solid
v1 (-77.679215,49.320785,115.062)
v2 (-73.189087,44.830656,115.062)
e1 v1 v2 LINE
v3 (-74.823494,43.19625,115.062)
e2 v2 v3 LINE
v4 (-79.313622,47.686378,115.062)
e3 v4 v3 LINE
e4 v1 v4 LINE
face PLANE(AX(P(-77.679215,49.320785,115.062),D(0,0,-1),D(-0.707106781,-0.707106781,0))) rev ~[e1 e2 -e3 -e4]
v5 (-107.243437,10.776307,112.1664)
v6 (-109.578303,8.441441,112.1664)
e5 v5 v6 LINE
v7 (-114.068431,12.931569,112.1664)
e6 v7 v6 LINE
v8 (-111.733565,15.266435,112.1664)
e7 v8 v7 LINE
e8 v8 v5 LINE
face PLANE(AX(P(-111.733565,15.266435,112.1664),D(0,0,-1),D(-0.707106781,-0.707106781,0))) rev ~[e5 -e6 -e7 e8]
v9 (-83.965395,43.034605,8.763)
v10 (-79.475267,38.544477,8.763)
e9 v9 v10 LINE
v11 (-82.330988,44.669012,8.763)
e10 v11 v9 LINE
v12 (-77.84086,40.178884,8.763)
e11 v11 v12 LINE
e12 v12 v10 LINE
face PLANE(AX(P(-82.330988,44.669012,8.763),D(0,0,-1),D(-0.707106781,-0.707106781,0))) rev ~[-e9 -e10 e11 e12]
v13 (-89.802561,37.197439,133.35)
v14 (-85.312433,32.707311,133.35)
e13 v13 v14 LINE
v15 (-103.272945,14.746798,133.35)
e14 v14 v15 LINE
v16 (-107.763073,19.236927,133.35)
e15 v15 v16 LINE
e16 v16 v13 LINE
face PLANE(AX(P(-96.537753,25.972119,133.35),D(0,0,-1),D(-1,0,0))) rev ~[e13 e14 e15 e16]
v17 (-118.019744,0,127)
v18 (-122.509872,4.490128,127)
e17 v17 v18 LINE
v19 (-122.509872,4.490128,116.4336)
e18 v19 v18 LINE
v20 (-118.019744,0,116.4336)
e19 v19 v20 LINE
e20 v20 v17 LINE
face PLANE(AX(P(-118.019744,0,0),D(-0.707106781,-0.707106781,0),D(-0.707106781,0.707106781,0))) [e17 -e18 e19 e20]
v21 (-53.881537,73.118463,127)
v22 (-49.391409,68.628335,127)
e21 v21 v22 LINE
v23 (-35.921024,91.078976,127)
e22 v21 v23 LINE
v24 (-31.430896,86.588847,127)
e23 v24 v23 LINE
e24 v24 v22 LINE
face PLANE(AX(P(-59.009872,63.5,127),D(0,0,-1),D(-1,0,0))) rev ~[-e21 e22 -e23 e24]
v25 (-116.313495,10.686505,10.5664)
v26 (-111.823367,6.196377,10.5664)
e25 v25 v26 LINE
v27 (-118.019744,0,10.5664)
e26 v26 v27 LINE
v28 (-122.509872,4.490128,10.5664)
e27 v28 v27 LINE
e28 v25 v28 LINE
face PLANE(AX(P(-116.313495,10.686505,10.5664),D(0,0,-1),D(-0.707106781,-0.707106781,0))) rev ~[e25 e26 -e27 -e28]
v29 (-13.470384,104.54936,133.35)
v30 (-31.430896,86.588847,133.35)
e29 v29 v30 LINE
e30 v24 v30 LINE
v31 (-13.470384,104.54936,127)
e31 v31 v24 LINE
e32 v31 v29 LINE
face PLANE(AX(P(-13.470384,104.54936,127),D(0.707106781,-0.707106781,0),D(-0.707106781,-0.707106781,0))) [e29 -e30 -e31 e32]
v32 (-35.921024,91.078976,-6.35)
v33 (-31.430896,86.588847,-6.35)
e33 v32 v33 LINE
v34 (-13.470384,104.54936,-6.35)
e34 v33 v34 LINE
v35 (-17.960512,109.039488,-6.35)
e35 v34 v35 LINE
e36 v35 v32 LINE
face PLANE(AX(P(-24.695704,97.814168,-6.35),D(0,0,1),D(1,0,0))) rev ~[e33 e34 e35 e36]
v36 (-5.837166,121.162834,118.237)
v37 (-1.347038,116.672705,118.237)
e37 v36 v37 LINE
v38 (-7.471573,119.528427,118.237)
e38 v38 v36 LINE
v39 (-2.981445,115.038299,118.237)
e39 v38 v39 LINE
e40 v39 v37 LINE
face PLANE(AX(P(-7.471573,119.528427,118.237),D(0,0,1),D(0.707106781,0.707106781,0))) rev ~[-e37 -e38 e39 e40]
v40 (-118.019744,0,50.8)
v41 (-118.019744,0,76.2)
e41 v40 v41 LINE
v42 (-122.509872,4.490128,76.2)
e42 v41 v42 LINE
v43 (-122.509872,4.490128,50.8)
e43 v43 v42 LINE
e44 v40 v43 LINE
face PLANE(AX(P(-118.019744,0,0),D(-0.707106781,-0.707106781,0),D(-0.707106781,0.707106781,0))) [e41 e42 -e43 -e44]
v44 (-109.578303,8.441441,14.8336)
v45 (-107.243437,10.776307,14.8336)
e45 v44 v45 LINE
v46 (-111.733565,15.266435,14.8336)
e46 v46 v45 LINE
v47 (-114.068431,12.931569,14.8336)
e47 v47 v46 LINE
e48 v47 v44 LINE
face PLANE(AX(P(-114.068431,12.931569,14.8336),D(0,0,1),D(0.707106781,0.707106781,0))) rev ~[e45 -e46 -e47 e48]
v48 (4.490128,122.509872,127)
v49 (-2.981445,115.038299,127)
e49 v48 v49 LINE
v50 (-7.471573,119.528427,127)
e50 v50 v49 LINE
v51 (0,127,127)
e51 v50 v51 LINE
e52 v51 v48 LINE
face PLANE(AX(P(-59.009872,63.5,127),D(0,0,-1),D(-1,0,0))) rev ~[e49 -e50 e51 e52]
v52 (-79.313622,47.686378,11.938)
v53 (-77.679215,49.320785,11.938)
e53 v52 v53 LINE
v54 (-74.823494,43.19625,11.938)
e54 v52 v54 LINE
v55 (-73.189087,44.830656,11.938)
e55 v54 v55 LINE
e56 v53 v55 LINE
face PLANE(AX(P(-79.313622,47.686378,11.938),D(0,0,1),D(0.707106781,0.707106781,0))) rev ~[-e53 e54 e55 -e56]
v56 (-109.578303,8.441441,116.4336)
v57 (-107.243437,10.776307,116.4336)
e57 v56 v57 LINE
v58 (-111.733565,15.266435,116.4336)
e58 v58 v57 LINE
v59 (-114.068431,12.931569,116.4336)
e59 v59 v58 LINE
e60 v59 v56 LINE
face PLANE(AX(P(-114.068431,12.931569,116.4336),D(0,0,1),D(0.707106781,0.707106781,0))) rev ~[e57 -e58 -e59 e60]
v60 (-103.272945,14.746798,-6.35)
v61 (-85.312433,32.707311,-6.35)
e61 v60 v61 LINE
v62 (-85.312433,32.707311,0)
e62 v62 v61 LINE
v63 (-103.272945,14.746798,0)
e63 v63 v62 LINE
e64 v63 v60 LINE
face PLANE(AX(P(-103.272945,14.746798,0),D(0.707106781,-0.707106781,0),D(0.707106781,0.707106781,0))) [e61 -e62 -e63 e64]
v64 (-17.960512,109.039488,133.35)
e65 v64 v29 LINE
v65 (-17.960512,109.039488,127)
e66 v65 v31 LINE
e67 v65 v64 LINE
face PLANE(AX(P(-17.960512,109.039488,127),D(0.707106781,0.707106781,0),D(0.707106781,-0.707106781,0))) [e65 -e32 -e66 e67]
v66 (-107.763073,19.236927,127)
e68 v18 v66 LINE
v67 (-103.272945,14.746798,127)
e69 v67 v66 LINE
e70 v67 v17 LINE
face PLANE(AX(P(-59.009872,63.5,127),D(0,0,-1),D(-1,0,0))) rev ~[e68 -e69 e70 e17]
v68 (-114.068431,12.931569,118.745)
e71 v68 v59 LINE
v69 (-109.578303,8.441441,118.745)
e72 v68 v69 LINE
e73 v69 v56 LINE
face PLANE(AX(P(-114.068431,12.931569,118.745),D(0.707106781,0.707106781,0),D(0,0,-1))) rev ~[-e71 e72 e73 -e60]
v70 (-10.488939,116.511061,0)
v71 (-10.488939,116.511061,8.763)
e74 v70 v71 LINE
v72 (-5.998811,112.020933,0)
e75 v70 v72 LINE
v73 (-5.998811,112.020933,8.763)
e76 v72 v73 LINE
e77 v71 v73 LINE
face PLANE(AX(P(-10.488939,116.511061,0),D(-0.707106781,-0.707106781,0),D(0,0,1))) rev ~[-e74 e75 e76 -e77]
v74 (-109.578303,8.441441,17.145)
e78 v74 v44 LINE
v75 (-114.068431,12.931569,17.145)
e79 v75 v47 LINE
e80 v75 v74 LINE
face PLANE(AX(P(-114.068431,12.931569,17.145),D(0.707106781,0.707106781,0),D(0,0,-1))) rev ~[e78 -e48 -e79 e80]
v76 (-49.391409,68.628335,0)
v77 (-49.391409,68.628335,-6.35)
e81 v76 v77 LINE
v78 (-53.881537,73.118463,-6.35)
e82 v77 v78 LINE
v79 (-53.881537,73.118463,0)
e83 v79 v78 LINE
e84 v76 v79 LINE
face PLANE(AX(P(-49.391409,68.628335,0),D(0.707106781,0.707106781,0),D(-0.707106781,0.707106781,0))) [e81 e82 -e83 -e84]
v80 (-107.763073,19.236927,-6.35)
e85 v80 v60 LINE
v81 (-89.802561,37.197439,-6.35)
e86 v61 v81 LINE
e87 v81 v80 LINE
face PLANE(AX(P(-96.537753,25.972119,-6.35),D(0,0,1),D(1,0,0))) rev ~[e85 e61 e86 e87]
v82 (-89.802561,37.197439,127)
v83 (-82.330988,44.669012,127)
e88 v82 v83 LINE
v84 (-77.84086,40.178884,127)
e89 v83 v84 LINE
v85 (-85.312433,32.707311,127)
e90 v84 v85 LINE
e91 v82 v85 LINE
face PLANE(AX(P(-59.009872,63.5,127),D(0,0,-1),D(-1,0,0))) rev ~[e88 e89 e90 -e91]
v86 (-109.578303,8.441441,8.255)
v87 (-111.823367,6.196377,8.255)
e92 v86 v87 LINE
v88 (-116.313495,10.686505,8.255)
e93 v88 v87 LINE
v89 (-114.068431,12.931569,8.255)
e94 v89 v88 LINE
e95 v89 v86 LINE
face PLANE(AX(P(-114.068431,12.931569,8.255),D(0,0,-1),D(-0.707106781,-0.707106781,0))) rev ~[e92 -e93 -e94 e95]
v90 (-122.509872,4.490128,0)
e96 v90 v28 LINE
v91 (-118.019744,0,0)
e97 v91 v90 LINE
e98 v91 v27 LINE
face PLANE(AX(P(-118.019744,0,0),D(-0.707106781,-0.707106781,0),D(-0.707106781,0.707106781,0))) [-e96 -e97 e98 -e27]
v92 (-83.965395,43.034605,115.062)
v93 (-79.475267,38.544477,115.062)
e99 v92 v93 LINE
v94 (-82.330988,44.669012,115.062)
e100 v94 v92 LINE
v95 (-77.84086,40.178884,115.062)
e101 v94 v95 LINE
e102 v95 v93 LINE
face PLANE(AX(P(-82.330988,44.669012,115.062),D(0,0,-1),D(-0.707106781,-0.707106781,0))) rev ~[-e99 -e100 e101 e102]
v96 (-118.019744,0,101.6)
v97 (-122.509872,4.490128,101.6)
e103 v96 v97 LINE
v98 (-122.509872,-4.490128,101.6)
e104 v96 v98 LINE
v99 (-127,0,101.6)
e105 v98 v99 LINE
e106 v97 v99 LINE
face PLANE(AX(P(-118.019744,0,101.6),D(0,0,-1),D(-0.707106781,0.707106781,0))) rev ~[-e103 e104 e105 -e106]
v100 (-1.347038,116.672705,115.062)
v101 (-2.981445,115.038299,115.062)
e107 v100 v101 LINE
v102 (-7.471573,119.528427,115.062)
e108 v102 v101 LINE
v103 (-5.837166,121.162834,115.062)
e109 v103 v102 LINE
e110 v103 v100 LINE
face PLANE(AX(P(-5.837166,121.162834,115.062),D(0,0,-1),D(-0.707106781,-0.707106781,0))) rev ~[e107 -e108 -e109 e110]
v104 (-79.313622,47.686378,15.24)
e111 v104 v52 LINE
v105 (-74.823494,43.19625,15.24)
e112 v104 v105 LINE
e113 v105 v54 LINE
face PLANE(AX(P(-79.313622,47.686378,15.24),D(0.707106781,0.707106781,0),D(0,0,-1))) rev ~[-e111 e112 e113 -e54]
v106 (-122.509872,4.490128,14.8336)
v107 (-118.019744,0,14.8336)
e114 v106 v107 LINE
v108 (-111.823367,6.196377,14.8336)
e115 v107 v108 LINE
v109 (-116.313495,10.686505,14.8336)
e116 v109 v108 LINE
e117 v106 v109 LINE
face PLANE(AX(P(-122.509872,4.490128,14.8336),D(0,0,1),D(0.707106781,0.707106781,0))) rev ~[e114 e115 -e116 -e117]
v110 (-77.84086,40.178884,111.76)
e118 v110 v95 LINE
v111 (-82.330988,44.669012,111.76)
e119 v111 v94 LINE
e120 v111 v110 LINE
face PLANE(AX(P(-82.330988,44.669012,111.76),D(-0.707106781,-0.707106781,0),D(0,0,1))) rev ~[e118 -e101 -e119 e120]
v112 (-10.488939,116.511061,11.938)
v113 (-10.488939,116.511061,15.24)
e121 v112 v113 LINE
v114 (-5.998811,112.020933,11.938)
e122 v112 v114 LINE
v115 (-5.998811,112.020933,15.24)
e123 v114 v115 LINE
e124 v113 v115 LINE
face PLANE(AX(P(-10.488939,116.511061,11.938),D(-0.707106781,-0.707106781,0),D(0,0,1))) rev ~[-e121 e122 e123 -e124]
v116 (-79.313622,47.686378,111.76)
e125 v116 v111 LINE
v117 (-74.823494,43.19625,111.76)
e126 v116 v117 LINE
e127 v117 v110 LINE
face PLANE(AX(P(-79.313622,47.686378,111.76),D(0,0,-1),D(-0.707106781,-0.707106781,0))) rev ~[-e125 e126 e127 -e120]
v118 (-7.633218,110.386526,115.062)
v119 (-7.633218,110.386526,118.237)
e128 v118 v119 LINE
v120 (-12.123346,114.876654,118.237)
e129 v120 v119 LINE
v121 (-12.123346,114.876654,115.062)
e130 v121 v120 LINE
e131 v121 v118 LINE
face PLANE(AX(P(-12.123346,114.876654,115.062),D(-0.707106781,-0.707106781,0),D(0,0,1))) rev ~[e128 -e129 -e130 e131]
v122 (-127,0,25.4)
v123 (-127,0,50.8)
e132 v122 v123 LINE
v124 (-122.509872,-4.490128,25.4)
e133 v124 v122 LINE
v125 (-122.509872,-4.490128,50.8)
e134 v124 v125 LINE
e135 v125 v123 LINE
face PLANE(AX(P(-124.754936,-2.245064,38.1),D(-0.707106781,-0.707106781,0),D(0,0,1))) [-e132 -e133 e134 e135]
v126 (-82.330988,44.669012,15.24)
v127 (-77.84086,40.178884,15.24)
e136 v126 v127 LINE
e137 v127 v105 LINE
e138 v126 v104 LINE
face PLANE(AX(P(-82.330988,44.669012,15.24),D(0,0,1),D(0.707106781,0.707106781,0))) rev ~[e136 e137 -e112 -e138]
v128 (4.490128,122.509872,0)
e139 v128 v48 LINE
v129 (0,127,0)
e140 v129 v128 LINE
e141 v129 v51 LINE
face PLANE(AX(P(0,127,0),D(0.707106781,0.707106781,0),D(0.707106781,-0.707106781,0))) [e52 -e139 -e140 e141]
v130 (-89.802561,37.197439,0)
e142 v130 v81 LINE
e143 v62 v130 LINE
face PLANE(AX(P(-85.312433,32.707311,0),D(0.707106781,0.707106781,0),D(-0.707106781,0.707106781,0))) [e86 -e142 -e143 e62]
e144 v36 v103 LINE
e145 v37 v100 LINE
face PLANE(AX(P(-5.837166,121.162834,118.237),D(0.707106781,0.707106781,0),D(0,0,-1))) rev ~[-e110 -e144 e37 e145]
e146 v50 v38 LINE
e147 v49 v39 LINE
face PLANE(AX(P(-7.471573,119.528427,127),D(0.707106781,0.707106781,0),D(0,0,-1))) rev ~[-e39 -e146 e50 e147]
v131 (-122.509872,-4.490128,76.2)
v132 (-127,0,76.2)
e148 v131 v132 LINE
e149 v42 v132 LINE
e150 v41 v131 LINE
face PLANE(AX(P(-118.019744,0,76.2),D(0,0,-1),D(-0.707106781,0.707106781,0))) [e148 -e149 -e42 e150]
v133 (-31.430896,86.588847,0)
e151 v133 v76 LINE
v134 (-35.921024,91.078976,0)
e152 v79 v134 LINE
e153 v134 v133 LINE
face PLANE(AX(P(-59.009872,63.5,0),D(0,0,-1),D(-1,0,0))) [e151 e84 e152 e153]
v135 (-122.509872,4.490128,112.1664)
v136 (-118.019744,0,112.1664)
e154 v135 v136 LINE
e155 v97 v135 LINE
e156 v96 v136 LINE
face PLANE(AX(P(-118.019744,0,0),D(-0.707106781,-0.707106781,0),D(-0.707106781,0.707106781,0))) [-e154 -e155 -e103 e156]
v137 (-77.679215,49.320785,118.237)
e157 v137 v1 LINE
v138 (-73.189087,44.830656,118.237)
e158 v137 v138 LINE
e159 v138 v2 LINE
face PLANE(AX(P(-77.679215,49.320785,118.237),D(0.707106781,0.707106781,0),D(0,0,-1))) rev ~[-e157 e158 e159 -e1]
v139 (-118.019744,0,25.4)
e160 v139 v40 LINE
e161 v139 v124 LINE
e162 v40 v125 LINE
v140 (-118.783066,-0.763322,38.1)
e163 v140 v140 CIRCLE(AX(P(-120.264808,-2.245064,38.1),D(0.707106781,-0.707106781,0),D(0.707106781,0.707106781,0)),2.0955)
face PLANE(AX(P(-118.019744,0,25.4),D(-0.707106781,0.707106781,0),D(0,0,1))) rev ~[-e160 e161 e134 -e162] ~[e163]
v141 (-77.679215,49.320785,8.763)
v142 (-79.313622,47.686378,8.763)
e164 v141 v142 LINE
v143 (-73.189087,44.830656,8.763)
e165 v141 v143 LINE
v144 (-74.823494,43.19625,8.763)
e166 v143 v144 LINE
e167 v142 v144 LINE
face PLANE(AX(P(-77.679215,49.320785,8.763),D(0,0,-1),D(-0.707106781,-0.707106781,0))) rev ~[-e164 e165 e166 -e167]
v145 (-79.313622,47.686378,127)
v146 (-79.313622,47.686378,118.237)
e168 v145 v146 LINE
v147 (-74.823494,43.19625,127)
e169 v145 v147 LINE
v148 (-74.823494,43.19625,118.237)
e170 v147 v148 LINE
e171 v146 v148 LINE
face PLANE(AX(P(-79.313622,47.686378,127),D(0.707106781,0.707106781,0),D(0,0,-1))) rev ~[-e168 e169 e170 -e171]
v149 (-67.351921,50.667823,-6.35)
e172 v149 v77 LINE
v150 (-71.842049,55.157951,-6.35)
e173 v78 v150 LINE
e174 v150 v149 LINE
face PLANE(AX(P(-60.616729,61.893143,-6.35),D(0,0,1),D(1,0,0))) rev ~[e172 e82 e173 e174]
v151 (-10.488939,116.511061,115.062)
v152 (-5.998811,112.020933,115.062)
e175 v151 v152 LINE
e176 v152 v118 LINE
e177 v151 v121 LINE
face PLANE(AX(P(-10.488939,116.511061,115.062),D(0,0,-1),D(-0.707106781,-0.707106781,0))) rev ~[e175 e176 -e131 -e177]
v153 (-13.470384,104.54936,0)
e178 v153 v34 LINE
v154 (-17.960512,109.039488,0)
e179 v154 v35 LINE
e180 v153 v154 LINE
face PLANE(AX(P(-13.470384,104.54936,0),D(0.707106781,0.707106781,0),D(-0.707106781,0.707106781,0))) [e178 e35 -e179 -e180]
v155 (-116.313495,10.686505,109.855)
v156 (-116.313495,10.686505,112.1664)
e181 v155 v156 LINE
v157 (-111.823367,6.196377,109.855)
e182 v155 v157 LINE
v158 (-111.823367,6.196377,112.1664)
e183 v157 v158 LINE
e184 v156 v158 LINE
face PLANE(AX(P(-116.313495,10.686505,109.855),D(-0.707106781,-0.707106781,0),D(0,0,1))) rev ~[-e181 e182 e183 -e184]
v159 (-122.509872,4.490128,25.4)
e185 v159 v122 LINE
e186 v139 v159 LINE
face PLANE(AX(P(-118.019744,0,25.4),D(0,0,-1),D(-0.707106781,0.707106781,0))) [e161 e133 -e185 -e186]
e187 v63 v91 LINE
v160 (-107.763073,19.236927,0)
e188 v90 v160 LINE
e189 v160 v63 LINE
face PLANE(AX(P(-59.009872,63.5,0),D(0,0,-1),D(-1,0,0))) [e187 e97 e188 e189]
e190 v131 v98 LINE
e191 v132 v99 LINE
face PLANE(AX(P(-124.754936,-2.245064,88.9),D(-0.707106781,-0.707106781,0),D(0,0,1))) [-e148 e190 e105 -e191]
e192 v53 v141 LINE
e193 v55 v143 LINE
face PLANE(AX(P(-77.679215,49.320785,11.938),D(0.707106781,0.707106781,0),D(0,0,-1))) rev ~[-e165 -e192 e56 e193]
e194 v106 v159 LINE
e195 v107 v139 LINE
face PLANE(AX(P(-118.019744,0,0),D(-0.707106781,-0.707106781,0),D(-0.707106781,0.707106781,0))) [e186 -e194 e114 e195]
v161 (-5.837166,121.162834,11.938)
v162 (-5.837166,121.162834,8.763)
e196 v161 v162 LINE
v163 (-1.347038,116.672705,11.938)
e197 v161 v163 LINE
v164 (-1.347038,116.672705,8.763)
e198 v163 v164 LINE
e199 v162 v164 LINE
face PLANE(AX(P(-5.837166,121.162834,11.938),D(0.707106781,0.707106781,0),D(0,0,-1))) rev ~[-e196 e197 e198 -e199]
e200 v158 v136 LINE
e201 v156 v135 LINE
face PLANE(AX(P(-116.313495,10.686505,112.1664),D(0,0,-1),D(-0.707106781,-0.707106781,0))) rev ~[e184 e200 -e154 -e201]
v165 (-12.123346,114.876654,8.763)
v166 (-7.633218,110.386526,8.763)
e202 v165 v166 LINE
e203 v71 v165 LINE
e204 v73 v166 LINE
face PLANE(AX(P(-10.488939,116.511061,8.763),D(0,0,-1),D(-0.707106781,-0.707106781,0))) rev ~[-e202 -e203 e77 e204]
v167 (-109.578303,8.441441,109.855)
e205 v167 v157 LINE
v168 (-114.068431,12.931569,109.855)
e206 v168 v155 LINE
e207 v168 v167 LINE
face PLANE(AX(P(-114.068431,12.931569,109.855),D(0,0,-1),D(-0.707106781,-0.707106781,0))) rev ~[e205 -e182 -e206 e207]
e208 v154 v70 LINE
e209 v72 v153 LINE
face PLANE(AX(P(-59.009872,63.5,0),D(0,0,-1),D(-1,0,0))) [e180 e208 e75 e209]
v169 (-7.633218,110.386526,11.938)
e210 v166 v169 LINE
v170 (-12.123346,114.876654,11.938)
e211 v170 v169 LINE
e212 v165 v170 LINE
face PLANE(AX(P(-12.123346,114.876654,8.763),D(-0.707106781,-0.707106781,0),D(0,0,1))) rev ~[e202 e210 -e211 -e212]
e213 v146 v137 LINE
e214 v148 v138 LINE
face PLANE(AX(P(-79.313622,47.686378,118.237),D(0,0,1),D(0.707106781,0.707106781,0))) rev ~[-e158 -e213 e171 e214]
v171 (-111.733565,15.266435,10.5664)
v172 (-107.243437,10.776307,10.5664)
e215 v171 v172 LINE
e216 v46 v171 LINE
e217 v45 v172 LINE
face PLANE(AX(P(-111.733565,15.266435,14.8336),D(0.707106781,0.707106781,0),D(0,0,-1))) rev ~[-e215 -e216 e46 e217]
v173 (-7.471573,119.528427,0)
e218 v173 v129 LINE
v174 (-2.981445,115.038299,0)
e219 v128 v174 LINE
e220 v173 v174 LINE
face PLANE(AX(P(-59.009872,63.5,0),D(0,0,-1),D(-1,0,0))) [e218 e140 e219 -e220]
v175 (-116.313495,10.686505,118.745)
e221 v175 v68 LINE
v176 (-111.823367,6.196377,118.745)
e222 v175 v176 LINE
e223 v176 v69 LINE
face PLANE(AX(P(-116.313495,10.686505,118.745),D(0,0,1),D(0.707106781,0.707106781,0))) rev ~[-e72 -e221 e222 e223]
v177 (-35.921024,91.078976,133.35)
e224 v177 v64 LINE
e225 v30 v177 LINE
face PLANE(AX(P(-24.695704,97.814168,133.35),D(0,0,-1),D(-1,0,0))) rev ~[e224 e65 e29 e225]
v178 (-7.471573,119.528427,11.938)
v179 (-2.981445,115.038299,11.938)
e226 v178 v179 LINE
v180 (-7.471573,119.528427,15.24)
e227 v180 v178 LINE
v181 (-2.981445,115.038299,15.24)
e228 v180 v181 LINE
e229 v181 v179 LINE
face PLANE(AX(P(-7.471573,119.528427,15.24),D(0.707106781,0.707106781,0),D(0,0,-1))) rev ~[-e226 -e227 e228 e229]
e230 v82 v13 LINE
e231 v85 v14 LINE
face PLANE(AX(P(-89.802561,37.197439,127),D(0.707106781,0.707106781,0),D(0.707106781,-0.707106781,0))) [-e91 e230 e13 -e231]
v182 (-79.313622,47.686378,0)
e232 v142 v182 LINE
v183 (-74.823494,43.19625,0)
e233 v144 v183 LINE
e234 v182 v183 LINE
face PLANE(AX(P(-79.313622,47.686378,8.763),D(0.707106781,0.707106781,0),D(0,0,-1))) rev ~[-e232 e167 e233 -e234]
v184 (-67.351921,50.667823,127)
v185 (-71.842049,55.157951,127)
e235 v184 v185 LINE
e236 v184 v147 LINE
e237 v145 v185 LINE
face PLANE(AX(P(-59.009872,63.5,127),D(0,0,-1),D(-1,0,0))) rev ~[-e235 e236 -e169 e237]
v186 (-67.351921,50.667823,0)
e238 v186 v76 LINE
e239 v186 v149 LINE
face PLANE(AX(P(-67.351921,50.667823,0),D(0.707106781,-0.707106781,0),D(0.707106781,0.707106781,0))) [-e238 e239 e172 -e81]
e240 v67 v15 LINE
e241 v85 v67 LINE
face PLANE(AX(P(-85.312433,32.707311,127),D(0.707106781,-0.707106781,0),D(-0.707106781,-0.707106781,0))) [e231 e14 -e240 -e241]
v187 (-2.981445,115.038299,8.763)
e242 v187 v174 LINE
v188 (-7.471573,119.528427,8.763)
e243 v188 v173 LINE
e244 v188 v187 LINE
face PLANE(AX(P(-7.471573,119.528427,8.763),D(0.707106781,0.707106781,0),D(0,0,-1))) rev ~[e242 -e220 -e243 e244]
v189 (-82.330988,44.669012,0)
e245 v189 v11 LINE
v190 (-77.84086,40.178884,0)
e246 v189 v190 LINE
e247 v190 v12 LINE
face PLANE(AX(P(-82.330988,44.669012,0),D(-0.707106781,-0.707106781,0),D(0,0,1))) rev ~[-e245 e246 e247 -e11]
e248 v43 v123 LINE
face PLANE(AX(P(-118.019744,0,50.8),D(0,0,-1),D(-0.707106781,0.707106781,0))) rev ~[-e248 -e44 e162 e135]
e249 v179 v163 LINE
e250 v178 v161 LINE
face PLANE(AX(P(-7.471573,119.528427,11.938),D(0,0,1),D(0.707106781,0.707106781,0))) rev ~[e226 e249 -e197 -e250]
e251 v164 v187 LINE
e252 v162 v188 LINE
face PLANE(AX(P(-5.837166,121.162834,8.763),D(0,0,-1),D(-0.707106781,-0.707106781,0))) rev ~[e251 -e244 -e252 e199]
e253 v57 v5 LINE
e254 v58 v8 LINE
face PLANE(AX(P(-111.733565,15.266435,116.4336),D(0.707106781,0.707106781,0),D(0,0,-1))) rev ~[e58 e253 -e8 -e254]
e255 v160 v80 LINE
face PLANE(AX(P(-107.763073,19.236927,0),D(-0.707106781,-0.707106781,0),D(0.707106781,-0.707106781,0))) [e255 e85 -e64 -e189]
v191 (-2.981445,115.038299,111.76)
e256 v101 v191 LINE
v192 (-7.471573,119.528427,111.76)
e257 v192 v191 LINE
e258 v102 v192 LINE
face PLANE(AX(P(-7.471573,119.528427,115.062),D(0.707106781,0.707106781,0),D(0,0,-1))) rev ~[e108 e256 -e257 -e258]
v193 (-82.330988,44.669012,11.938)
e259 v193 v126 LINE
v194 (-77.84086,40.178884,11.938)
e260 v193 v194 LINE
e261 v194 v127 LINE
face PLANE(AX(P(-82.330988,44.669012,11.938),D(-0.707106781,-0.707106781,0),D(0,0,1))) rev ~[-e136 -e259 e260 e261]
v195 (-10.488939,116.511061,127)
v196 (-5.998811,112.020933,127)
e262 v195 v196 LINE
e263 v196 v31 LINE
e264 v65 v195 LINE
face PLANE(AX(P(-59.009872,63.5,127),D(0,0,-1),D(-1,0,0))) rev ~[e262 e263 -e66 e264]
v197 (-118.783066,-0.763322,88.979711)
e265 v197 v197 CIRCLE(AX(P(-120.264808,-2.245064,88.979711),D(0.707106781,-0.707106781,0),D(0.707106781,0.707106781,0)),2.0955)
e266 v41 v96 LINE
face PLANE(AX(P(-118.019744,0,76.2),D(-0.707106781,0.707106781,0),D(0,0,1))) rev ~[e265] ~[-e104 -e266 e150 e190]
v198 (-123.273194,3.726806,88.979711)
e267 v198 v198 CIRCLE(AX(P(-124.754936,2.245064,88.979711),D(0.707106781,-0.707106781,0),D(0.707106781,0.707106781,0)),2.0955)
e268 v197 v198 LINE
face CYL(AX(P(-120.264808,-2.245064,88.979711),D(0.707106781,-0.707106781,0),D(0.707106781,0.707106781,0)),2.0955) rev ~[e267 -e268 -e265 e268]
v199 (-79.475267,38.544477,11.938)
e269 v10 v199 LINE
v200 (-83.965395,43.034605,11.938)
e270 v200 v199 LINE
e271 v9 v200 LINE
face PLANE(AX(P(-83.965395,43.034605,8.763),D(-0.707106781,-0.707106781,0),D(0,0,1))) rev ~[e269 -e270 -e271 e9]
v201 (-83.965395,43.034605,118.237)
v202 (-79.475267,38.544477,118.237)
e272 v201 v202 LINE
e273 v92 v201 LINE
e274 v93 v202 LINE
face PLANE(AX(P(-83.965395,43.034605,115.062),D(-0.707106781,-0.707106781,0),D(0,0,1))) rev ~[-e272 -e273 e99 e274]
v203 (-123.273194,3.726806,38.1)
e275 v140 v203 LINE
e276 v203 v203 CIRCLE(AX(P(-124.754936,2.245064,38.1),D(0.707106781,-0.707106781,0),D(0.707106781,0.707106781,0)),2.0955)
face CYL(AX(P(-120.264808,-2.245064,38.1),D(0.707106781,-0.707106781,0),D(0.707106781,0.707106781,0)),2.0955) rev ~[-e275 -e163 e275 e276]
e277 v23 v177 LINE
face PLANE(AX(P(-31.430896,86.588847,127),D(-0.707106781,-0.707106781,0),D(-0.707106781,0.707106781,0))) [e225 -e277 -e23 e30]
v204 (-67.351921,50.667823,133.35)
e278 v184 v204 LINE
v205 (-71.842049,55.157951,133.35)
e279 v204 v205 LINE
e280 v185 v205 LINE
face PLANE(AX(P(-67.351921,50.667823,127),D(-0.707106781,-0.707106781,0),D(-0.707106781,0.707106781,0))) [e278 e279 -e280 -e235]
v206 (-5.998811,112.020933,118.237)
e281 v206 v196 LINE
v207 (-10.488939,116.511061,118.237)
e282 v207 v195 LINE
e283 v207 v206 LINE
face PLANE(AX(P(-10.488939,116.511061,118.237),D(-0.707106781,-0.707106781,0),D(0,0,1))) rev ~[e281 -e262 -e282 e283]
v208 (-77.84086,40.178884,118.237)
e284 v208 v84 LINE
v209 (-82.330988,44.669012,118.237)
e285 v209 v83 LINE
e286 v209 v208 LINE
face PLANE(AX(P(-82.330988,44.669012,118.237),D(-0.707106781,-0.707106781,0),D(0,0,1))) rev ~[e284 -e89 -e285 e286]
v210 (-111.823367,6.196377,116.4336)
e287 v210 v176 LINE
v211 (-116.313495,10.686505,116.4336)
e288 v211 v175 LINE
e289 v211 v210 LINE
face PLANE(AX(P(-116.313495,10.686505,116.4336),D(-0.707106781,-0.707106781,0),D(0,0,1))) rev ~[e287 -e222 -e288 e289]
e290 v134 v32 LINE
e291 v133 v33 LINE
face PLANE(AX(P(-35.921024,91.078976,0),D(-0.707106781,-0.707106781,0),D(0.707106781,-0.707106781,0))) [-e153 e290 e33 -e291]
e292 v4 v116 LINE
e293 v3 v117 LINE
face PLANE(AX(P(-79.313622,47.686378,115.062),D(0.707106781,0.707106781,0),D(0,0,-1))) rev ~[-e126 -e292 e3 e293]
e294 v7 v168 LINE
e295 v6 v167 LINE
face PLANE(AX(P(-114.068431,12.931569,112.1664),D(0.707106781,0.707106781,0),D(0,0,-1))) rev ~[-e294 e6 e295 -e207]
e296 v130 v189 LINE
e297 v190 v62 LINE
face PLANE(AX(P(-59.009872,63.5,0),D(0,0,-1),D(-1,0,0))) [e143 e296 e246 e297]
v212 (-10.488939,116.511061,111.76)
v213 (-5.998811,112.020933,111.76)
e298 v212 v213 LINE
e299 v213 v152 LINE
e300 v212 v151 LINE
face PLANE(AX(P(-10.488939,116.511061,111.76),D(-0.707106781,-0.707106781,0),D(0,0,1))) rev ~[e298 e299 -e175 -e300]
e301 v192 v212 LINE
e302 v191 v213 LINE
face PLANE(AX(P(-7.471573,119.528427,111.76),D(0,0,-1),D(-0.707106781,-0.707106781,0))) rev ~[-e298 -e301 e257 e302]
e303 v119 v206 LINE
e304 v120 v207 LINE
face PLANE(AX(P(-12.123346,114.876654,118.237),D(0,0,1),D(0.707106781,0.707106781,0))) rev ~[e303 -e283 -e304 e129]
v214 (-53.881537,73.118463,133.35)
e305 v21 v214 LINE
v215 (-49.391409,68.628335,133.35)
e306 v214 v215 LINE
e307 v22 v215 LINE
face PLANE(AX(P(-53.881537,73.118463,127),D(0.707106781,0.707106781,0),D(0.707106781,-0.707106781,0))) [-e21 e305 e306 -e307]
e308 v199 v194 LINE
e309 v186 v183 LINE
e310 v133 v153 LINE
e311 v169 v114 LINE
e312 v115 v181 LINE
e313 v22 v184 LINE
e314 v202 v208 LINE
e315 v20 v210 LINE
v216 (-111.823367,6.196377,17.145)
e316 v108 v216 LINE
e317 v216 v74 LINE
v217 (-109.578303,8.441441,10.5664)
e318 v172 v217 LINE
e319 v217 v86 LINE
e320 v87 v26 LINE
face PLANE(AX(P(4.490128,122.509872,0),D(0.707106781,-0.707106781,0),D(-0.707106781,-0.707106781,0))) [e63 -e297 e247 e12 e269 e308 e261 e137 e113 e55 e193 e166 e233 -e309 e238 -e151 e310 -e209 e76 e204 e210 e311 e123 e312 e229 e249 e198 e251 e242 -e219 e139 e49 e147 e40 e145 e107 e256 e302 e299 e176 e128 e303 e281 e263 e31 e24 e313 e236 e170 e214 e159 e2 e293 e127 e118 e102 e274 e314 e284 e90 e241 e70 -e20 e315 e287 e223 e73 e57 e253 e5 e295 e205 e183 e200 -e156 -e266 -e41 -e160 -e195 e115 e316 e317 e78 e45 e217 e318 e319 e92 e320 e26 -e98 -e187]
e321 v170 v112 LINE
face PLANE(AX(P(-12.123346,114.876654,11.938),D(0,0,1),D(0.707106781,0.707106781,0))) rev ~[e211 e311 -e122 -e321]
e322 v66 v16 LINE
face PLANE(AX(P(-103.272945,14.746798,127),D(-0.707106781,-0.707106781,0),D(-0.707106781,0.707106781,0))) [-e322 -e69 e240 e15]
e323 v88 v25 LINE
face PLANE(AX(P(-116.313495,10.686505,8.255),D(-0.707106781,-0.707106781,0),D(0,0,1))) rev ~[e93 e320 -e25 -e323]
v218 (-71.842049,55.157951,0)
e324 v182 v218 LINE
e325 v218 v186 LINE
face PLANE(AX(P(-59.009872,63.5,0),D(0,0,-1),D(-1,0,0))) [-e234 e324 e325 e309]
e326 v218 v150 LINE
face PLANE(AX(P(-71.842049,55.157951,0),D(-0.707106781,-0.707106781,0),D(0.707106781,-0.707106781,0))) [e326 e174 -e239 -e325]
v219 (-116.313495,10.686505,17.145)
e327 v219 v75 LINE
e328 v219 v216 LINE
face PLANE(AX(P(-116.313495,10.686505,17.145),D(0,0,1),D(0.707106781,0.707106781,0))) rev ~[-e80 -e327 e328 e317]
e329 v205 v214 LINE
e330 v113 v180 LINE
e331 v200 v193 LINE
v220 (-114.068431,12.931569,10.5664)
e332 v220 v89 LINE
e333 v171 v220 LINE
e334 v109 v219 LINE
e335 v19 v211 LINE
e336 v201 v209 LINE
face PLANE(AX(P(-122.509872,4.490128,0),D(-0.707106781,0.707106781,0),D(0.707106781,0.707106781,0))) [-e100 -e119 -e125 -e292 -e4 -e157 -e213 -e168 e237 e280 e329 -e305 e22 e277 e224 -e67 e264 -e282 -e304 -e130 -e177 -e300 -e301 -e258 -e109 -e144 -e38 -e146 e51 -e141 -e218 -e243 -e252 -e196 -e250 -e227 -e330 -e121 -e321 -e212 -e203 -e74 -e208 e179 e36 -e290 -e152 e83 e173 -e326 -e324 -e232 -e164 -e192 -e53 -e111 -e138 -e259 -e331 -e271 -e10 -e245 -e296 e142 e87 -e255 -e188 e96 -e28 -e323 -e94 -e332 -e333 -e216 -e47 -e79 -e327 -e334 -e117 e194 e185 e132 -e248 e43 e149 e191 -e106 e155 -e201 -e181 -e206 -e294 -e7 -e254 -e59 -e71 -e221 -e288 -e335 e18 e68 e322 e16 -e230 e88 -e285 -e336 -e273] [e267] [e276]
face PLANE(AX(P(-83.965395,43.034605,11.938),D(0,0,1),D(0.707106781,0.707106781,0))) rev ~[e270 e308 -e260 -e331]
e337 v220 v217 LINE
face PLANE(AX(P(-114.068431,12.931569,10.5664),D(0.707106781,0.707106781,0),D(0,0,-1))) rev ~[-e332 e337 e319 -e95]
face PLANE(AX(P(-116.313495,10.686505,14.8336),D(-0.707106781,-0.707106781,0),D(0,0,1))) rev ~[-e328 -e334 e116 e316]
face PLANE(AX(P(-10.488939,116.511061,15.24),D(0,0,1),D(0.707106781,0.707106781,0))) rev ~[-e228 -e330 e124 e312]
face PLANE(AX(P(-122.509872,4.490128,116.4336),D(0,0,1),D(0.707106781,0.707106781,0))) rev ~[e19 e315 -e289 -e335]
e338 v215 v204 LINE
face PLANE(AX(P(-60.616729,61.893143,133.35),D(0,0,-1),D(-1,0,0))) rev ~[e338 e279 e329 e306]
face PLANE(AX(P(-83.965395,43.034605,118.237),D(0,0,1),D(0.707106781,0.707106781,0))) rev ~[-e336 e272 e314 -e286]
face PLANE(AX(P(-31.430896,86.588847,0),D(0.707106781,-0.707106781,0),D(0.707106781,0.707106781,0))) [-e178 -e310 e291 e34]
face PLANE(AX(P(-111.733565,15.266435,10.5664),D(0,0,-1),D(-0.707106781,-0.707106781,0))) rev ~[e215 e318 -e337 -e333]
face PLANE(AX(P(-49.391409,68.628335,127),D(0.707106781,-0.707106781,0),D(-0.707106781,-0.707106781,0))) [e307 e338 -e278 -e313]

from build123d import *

# Parameters (mm, degrees)
BOSS_EXTRUDE1_DEPTH = 127
SKETCH2_W           = 25.4
SKETCH2_H           = 6.35
BOSS_EXTRUDE2_DEPTH = 6.35
LPATTERN1_COUNT     = 2
LPATTERN1_PITCH     = 50.8
SKETCH3_R           = 2.0955
CUT_EXTRUDE1_DEPTH  = 6.35
CUT_EXTRUDE2_DEPTH  = 6.35
BOSS_EXTRUDE4_DEPTH = 6.35
LPATTERN3_COUNT     = 3
LPATTERN3_PITCH     = 50.8
BOSS_EXTRUDE5_DEPTH = 6.35
LPATTERN4_COUNT     = 3
LPATTERN4_PITCH     = 50.8
CUT_EXTRUDE3_DEPTH  = 6.35


with BuildPart() as part:
    # Sketch1 → Boss-Extrude1 (new body)
    with BuildSketch(Plane.XY):
        Polygon((0, 127), (4.490128061, 122.509871939), (-118.019743879, 0), (-122.509871939, 4.490128061), align=None)
    extrude(amount=BOSS_EXTRUDE1_DEPTH)

    # Sketch2 → Boss-Extrude2 (add)
    with BuildSketch(Plane(origin=(-59.009871939, -59.009871939, 0), x_dir=(0, 0, 1), z_dir=(-0.7071067811865474, -0.7071067811865477, 0))):
        with Locations((38.1, 86.627561211)):
            Rectangle(SKETCH2_W, SKETCH2_H)
    boss_extrude2 = extrude(amount=BOSS_EXTRUDE2_DEPTH)

    # LPattern1: Boss-Extrude2 ×2
    with Locations(*[(0, 0, i * LPATTERN1_PITCH) for i in range(1, LPATTERN1_COUNT)]):
        add(boss_extrude2)

    # Sketch3 → Cut-Extrude1 (cut)
    with BuildSketch(Plane(origin=(-59.009871939, 59.009871939, 0), x_dir=(0, 0, -1), z_dir=(0.7071067811865476, -0.7071067811865476, 0))):
        with Locations(Location((-38.1, -86.627561211, 0), (0, 0, 90))):
            Circle(SKETCH3_R)
        with Locations(Location((-88.979711059, -86.627561211, 0), (0, 0, 90))):
            Circle(SKETCH3_R)
    extrude(amount=-CUT_EXTRUDE1_DEPTH, mode=Mode.SUBTRACT)

    # Sketch4 → Cut-Extrude2 (cut)
    with BuildSketch(Plane(origin=(-63.5, 63.5, 0), x_dir=(0, 0, 1), z_dir=(-0.7071067811865476, 0.7071067811865476, 0))):
        Polygon((10.5664, -83.452561211), (14.8336, -83.452561211), (14.8336, -74.689561211), (17.145, -74.689561211), (17.145, -71.514561211), (14.8336, -71.514561211), (14.8336, -68.212561211), (10.5664, -68.212561211), (10.5664, -71.514561211), (8.255, -71.514561211), (8.255, -74.689561211), (10.5664, -74.689561211), align=None)
        Polygon((112.1664, -83.452561211), (116.4336, -83.452561211), (116.4336, -74.689561211), (118.745, -74.689561211), (118.745, -71.514561211), (116.4336, -71.514561211), (116.4336, -68.212561211), (112.1664, -68.212561211), (112.1664, -71.514561211), (109.855, -71.514561211), (109.855, -74.689561211), (112.1664, -74.689561211), align=None)
    extrude(amount=-CUT_EXTRUDE2_DEPTH, mode=Mode.SUBTRACT)

    # Sketch6 → Boss-Extrude4 (add)
    with BuildSketch(Plane(origin=(0, 0, 0), x_dir=(-1, 0, 0), z_dir=(0, 0, -1))):
        Polygon((13.470384182, 104.549359697), (17.960512242, 109.039487758), (35.921024484, 91.078975516), (31.430896424, 86.588847455), align=None)
    boss_extrude4 = extrude(amount=BOSS_EXTRUDE4_DEPTH)

    # LPattern3: Boss-Extrude4 ×3
    with Locations(*[Vector(-0.7071067811865481, -0.7071067811865469, 0) * (i * LPATTERN3_PITCH) for i in range(1, LPATTERN3_COUNT)]):
        add(boss_extrude4)

    # Sketch7 → Boss-Extrude5 (add)
    with BuildSketch(Plane.XY.offset(127)):
        Polygon((-17.960512242, 109.039487758), (-13.470384182, 104.549359697), (-31.430896424, 86.588847455), (-35.921024484, 91.078975516), align=None)
    boss_extrude5 = extrude(amount=BOSS_EXTRUDE5_DEPTH)

    # LPattern4: Boss-Extrude5 ×3
    with Locations(*[Vector(-0.7071067811865475, -0.7071067811865476, 0) * (i * LPATTERN4_PITCH) for i in range(1, LPATTERN4_COUNT)]):
        add(boss_extrude5)

    # Sketch8 → Cut-Extrude3 (cut)
    with BuildSketch(Plane(origin=(-63.5, 63.5, 0), x_dir=(0, 0, 1), z_dir=(-0.7071067811865476, 0.7071067811865476, 0))):
        Polygon((127, -26.631038789), (127, -22.363838789), (118.237, -22.363838789), (118.237, -20.052438789), (115.062, -20.052438789), (115.062, -22.363838789), (111.76, -22.363838789), (111.76, -26.631038789), (115.062, -26.631038789), (115.062, -28.942438789), (118.237, -28.942438789), (118.237, -26.631038789), align=None)
        Polygon((0, 79.236161211), (0, 74.968961211), (8.763, 74.968961211), (8.763, 72.657561211), (11.938, 72.657561211), (11.938, 74.968961211), (15.24, 74.968961211), (15.24, 79.236161211), (11.938, 79.236161211), (11.938, 81.547561211), (8.763, 81.547561211), (8.763, 79.236161211), align=None)
        Polygon((0, -22.363838789), (0, -26.631038789), (8.763, -26.631038789), (8.763, -28.942438789), (11.938, -28.942438789), (11.938, -26.631038789), (15.24, -26.631038789), (15.24, -22.363838789), (11.938, -22.363838789), (11.938, -20.052438789), (8.763, -20.052438789), (8.763, -22.363838789), align=None)
        Polygon((127, 74.968961211), (127, 79.236161211), (118.237, 79.236161211), (118.237, 81.547561211), (115.062, 81.547561211), (115.062, 79.236161211), (111.76, 79.236161211), (111.76, 74.968961211), (115.062, 74.968961211), (115.062, 72.657561211), (118.237, 72.657561211), (118.237, 74.968961211), align=None)
    extrude(amount=-CUT_EXTRUDE3_DEPTH, mode=Mode.SUBTRACT)


solid = part.part
